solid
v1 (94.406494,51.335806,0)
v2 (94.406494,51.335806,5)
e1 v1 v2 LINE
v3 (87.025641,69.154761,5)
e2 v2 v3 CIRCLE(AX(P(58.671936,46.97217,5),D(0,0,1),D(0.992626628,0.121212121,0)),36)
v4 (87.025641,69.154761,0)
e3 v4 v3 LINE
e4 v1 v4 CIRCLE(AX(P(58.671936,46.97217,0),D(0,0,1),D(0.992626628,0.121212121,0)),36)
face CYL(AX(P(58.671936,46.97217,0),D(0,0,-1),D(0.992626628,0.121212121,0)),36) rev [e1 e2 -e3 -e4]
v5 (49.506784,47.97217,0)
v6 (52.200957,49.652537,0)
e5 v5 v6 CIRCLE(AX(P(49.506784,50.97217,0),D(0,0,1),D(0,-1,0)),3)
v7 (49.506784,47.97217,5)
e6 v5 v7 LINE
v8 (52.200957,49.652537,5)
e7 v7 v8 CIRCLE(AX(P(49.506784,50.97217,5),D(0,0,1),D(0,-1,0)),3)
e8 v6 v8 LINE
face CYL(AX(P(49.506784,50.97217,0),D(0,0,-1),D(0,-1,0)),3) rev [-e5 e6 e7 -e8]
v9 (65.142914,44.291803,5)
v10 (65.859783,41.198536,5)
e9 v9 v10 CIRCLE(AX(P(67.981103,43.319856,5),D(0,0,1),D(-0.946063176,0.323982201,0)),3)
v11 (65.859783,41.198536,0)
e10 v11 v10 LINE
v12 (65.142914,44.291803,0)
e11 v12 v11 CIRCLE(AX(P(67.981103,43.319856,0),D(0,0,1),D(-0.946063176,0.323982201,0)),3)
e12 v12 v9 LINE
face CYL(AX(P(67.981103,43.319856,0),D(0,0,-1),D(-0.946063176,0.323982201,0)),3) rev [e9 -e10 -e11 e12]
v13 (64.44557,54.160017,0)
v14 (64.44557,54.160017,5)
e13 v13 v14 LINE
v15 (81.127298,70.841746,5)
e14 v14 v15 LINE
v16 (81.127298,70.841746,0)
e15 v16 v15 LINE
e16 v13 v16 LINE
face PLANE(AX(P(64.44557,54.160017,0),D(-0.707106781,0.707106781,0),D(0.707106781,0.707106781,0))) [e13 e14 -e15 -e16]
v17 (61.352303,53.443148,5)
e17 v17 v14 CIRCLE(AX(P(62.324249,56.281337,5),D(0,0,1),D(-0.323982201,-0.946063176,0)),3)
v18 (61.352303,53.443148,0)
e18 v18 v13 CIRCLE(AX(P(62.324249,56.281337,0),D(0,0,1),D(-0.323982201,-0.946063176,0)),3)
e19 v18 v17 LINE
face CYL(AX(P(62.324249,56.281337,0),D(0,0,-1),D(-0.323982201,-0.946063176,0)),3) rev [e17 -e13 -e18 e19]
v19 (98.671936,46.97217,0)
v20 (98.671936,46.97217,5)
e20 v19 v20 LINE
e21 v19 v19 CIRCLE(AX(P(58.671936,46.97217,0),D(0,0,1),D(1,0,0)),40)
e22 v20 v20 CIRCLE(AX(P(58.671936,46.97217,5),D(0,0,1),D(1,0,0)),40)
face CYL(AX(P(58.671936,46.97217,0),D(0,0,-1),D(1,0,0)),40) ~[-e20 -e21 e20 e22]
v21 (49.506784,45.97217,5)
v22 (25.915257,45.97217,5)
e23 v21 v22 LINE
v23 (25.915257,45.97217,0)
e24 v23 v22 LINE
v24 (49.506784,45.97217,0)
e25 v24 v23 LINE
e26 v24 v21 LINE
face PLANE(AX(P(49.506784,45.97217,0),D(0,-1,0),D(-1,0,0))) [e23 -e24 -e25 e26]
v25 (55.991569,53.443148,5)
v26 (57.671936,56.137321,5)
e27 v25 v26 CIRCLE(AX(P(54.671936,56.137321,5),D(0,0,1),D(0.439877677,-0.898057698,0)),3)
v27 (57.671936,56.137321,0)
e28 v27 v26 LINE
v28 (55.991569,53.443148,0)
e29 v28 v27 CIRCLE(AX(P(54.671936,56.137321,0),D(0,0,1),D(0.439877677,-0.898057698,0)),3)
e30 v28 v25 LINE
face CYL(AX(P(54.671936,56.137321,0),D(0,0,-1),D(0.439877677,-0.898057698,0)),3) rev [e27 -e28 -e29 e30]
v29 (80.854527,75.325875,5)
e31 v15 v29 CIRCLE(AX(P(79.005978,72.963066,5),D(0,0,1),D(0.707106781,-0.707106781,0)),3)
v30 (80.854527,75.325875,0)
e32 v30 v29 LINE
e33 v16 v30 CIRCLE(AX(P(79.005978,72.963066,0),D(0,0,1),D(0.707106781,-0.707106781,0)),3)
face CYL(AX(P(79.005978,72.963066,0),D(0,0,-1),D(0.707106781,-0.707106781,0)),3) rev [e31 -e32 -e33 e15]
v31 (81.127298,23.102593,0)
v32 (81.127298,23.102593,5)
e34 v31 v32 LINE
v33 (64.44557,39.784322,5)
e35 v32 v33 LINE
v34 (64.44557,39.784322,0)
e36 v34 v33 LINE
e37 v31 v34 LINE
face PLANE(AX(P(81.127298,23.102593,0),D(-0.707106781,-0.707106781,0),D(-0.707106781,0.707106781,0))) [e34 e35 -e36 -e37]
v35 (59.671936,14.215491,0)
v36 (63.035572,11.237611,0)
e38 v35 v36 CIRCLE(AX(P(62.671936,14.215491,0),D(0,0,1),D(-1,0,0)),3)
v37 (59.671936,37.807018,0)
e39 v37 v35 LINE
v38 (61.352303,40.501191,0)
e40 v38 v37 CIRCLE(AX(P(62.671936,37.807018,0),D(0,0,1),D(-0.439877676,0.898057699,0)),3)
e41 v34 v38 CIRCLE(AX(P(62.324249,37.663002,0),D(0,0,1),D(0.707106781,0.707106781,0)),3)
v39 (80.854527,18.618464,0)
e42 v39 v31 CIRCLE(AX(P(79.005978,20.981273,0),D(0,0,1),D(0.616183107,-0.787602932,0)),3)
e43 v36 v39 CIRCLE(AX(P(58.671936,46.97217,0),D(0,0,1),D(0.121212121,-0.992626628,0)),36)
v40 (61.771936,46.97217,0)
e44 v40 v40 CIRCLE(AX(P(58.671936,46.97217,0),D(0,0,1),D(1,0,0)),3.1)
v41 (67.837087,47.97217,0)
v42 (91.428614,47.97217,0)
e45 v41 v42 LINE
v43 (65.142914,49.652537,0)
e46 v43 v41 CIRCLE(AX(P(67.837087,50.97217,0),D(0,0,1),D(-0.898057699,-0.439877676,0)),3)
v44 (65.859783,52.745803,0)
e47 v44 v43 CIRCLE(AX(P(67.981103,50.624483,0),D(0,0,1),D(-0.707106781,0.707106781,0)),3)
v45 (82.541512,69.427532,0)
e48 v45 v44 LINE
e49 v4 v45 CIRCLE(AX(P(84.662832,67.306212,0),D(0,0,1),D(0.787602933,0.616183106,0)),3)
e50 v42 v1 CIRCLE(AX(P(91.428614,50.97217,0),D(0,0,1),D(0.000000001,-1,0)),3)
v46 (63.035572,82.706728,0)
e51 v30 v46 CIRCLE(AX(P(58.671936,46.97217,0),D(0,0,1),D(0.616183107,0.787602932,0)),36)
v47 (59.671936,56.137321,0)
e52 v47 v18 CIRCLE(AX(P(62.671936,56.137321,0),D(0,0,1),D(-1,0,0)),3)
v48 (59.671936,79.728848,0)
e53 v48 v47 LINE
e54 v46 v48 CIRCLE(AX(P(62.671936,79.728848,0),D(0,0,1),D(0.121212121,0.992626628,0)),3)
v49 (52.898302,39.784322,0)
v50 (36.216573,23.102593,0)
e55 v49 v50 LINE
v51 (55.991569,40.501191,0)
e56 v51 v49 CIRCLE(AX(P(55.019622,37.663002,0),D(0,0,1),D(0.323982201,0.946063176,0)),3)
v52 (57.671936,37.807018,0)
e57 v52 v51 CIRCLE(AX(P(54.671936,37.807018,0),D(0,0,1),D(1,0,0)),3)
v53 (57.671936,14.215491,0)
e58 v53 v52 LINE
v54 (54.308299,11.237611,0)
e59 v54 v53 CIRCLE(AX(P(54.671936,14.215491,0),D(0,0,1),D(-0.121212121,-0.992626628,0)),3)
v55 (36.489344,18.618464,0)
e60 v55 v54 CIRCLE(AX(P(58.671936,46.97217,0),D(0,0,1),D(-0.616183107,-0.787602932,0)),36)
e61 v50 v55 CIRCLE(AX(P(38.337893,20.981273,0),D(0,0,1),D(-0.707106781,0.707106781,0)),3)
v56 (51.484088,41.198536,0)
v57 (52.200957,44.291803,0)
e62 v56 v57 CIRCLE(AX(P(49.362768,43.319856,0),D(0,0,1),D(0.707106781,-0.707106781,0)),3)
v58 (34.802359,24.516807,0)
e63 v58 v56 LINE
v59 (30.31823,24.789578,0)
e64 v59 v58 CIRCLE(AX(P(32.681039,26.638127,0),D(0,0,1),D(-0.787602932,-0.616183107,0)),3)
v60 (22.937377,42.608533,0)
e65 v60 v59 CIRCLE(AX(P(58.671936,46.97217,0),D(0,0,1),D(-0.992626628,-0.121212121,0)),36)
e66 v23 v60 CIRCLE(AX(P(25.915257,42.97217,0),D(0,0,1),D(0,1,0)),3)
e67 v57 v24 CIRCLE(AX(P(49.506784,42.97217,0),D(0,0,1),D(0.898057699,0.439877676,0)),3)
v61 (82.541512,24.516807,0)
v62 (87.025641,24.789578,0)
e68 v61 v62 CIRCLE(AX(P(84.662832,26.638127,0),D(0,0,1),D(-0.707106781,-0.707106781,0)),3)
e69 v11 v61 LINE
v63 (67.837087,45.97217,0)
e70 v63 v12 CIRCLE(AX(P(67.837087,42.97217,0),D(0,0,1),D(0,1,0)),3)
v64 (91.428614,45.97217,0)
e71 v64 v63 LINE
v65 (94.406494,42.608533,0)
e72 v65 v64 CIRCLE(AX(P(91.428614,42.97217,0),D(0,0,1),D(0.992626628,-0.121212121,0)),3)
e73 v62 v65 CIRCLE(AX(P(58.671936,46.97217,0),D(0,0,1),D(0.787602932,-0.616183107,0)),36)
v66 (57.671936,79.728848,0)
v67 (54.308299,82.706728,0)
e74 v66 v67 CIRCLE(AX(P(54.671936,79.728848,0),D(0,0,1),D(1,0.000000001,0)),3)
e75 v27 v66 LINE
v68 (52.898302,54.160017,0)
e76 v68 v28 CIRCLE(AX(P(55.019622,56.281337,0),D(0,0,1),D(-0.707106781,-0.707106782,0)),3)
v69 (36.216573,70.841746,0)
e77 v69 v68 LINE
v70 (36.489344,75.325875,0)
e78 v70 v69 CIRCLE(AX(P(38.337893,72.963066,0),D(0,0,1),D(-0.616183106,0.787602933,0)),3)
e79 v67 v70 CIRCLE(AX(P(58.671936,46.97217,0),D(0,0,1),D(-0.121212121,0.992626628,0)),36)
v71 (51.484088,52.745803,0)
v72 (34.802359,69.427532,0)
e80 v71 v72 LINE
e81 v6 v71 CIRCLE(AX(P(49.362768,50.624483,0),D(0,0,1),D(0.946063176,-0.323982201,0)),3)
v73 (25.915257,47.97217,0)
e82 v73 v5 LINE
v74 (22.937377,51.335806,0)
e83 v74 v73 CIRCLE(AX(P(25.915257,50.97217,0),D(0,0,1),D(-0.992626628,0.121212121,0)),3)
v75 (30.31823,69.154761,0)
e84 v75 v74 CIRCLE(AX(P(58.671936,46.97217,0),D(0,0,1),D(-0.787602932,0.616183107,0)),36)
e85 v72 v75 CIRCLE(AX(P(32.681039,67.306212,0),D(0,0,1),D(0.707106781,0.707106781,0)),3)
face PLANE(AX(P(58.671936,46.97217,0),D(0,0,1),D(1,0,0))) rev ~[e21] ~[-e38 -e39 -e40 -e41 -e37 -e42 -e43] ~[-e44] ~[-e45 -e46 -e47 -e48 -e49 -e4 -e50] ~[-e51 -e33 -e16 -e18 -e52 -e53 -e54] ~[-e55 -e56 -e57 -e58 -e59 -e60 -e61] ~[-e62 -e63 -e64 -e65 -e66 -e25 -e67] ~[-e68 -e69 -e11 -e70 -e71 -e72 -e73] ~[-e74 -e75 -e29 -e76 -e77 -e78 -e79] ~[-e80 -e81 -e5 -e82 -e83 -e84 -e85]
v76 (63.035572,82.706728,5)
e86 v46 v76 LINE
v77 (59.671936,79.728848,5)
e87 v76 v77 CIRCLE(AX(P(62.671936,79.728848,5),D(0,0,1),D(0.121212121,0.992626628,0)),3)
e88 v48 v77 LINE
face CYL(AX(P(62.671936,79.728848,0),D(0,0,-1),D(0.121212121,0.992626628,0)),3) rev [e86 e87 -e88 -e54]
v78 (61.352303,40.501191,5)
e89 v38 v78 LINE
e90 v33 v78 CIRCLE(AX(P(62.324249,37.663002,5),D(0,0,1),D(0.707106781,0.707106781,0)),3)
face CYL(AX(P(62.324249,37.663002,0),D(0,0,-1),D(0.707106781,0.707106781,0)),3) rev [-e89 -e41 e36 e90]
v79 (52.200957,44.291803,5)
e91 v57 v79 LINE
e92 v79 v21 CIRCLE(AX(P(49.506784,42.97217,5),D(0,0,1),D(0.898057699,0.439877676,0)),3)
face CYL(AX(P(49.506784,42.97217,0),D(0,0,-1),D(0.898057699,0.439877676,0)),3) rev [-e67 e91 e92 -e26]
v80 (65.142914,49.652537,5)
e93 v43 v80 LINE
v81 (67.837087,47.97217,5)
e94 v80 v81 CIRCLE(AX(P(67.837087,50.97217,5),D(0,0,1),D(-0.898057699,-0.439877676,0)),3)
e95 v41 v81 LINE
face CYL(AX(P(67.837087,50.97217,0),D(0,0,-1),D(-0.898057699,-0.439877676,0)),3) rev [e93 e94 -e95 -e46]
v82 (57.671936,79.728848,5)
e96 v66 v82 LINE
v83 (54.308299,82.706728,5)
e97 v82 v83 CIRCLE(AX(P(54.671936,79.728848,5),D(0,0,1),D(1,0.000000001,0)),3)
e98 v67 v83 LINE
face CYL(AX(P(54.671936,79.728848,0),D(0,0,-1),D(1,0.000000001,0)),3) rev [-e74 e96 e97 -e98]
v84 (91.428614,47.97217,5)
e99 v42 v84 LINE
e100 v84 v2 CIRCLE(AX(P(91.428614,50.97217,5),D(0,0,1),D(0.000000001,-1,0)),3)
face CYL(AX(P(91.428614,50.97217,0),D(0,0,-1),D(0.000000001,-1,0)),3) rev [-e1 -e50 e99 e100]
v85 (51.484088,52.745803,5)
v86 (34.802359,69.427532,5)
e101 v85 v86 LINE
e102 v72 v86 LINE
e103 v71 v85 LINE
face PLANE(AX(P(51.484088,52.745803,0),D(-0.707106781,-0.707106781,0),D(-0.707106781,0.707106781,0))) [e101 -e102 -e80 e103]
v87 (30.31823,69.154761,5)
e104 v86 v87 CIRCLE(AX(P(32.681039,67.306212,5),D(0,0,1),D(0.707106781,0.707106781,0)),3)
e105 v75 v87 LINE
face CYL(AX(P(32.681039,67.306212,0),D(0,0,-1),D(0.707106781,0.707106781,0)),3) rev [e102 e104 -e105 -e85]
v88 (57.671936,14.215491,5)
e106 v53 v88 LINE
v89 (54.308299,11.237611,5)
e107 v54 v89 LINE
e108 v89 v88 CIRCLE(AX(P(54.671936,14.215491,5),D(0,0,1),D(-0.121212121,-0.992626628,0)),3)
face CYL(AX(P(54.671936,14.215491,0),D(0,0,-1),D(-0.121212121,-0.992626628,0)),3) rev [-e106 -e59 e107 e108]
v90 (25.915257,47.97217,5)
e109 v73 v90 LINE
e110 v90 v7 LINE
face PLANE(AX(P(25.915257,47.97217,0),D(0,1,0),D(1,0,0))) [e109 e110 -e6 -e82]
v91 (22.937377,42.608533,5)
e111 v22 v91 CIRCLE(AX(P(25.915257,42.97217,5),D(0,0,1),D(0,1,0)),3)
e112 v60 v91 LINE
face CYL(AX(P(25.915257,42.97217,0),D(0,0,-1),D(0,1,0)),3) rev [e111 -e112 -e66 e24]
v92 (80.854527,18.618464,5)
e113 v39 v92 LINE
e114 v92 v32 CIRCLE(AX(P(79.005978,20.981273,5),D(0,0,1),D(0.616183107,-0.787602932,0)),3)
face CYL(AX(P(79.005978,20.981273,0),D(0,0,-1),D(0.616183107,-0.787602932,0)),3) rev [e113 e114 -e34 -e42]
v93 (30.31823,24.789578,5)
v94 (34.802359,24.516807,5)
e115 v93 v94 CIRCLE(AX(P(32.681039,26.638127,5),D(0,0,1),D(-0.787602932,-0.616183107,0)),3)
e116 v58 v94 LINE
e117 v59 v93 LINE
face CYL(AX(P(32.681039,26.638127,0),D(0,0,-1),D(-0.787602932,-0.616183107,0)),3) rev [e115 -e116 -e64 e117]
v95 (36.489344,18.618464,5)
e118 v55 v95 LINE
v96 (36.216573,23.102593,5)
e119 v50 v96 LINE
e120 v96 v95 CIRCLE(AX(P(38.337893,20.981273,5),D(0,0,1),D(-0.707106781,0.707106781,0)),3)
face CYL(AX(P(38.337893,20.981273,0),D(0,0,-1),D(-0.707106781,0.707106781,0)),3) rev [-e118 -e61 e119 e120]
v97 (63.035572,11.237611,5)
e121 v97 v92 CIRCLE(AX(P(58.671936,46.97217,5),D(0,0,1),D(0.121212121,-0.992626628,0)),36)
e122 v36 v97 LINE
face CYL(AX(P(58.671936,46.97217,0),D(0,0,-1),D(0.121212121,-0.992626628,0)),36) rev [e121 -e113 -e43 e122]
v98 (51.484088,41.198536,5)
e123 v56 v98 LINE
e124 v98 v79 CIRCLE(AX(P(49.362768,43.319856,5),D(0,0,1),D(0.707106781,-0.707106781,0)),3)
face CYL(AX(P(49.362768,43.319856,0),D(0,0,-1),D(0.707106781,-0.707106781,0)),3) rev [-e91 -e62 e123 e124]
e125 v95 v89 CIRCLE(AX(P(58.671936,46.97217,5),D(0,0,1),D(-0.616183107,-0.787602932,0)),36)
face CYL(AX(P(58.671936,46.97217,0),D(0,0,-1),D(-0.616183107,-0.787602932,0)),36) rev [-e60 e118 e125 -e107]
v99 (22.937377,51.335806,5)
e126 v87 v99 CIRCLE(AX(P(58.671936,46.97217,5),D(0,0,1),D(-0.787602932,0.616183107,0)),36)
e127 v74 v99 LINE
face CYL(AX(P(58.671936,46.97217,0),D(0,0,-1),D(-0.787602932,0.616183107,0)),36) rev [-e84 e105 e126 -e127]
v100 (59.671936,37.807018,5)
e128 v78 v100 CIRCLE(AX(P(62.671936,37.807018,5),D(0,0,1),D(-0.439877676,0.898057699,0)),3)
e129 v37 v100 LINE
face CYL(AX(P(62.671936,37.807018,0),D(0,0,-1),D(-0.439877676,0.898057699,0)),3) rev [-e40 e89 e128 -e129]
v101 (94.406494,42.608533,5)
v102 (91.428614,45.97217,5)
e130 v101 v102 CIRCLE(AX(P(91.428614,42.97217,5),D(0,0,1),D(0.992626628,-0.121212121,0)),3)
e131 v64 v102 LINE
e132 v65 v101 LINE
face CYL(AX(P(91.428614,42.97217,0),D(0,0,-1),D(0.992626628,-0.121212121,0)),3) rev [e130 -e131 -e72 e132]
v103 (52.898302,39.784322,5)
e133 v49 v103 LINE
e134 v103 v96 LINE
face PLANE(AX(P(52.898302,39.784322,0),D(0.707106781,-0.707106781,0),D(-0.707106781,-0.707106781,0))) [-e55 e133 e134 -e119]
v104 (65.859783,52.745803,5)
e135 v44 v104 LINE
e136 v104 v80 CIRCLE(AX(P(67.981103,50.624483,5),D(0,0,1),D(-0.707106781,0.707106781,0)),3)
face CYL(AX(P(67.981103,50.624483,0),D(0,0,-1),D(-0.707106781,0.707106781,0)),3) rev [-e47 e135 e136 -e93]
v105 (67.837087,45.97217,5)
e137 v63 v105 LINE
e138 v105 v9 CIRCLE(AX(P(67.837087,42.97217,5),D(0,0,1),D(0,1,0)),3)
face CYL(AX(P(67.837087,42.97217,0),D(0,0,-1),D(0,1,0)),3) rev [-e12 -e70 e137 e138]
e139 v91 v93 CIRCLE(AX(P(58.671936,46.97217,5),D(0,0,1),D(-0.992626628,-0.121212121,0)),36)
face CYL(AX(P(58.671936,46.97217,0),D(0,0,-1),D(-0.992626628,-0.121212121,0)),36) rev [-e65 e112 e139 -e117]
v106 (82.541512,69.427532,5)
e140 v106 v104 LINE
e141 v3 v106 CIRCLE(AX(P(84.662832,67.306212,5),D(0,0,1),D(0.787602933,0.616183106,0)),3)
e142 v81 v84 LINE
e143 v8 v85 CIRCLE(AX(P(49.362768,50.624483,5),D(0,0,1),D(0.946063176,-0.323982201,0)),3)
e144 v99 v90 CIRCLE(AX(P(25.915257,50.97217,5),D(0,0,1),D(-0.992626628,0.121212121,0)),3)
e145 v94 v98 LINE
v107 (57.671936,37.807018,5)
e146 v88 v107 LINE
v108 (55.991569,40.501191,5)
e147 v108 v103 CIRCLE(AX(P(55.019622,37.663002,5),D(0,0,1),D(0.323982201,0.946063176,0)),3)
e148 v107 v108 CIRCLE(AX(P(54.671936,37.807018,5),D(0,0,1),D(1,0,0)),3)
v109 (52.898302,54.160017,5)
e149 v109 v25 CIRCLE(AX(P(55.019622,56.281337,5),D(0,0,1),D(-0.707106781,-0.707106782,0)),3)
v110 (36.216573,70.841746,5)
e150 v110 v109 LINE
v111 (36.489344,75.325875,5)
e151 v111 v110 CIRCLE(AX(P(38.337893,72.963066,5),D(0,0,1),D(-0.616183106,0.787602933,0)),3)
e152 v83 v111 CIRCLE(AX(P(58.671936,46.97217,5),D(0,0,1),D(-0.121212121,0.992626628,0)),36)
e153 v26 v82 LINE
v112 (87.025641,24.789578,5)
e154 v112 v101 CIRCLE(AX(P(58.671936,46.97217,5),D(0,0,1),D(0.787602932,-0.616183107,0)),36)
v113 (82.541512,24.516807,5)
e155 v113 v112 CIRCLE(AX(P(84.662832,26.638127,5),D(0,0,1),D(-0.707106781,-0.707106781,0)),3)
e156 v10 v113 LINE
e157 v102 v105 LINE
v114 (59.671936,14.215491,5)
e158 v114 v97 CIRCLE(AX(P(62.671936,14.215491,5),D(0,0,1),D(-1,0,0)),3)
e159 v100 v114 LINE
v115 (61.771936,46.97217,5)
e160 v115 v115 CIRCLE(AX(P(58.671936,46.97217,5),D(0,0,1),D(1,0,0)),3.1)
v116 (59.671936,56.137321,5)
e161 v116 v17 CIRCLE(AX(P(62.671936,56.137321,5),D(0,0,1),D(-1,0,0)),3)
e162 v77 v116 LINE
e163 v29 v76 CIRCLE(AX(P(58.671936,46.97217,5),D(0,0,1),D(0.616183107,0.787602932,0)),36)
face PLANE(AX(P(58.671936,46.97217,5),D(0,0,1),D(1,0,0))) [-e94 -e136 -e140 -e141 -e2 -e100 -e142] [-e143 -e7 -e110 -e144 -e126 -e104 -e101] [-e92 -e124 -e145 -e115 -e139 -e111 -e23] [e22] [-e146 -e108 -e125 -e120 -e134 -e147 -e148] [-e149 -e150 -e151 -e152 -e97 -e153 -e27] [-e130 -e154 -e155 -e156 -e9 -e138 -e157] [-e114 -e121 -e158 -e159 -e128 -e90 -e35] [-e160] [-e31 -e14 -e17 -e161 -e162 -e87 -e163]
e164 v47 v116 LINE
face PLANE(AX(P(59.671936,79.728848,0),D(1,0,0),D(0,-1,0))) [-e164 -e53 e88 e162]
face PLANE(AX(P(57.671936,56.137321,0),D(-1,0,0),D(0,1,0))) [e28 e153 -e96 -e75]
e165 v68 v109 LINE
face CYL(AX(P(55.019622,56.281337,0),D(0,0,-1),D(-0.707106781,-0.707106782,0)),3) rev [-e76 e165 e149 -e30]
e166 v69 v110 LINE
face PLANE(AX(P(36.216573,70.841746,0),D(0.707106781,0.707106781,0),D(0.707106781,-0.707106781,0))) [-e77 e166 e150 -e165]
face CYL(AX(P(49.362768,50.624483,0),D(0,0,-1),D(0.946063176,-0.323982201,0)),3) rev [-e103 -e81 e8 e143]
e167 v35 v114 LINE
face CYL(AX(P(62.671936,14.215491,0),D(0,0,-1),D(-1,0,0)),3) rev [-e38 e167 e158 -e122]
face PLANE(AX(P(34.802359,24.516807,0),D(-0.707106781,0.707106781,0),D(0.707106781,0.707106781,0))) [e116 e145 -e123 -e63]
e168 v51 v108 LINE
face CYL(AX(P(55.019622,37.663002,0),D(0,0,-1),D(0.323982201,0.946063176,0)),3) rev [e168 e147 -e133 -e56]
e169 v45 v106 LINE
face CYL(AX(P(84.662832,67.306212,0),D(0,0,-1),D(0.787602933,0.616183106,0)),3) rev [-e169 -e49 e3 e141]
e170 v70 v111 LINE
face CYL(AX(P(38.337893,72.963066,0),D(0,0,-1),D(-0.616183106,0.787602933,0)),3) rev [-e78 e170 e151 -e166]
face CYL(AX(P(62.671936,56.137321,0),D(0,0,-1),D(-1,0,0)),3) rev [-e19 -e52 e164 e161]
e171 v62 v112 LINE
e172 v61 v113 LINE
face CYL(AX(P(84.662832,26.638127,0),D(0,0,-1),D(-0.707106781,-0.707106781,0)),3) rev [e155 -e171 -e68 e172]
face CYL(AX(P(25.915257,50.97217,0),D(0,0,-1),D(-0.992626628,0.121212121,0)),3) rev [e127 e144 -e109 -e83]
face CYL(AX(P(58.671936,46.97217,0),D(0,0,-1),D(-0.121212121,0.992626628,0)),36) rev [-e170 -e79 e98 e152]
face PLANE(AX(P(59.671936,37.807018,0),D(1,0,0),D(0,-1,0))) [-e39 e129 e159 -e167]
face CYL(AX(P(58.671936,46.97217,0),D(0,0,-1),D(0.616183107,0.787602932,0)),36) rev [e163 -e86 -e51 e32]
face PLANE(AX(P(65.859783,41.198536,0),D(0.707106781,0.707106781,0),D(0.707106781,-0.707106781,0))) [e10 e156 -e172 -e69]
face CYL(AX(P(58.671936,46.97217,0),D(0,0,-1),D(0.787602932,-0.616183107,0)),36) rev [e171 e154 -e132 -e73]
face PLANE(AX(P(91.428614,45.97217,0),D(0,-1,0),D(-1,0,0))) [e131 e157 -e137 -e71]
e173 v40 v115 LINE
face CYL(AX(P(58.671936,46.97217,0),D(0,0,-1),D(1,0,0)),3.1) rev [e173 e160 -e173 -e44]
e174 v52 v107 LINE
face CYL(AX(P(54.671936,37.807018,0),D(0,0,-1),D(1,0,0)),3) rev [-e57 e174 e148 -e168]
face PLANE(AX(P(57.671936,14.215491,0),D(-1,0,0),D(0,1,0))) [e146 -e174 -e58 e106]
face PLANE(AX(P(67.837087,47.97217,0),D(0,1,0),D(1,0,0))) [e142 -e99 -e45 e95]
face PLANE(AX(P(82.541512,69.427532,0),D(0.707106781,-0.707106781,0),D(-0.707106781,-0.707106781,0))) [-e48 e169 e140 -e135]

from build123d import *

# Parameters (mm, degrees)
MODEL_R         = 40
MODEL_R_2       = 3.1
EXTRUDE_1_DEPTH = 5


with BuildPart() as part:
    # Model → 凸台-拉伸1 (new body)
    with BuildSketch(Plane.XY):
        with Locations((58.671935635, 46.97216953)):
            Circle(MODEL_R)
        with Locations((58.671935635, 46.97216953)):
            Circle(MODEL_R_2, mode=Mode.SUBTRACT)
        with BuildLine():
            Line((57.671935635, 56.13732092), (57.671935635, 79.728848239))
            ThreePointArc((57.671935635, 79.728848239), (56.66053953, 81.975057166), (54.308299271, 82.706728121))
            ThreePointArc((54.308299271, 82.706728121), (44.895332069, 80.231832701), (36.489343796, 75.325875096))
            ThreePointArc((36.489343796, 75.325875096), (35.343428251, 73.145220564), (36.216572772, 70.841745955))
            Line((36.216572772, 70.841745955), (52.898301717, 54.16001701))
            ThreePointArc((52.898301717, 54.16001701), (54.342318321, 53.358794002), (55.991568665, 53.443147825))
            ThreePointArc((55.991568665, 53.443147825), (57.217411925, 54.549696766), (57.671935635, 56.13732092))
        make_face(mode=Mode.SUBTRACT)
        with BuildLine():
            Line((64.445569552, 54.16001701), (81.127298497, 70.841745955))
            ThreePointArc((81.127298497, 70.841745955), (82.000443018, 73.145220564), (80.854527474, 75.325875096))
            ThreePointArc((80.854527474, 75.325875096), (72.4485392, 80.231832701), (63.035571998, 82.706728121))
            ThreePointArc((63.035571998, 82.706728121), (60.683331739, 81.975057166), (59.671935635, 79.728848239))
            Line((59.671935635, 79.728848239), (59.671935635, 56.13732092))
            ThreePointArc((59.671935635, 56.13732092), (60.126459344, 54.549696766), (61.352302605, 53.443147825))
            ThreePointArc((61.352302605, 53.443147825), (63.001552948, 53.358794002), (64.445569552, 54.16001701))
        make_face(mode=Mode.SUBTRACT)
        with BuildLine():
            Line((67.837087024, 47.97216953), (91.428614343, 47.97216953))
            ThreePointArc((91.428614343, 47.97216953), (93.67482327, 48.983565635), (94.406494225, 51.335805894))
            ThreePointArc((94.406494225, 51.335805894), (91.931598805, 60.748773096), (87.0256412, 69.154761369))
            ThreePointArc((87.0256412, 69.154761369), (84.844986668, 70.300676914), (82.54151206, 69.427532393))
            Line((82.54151206, 69.427532393), (65.859783114, 52.745803448))
            ThreePointArc((65.859783114, 52.745803448), (65.058560106, 51.301786844), (65.142913929, 49.652536502))
            ThreePointArc((65.142913929, 49.652536502), (66.24946287, 48.42669324), (67.837087024, 47.97216953))
        make_face(mode=Mode.SUBTRACT)
        with BuildLine():
            Line((65.859783114, 41.198535613), (82.54151206, 24.516806668))
            ThreePointArc((82.54151206, 24.516806668), (84.844986668, 23.643662147), (87.0256412, 24.789577691))
            ThreePointArc((87.0256412, 24.789577691), (91.931598805, 33.195565965), (94.406494225, 42.608533167))
            ThreePointArc((94.406494225, 42.608533167), (93.67482327, 44.960773426), (91.428614343, 45.97216953))
            Line((91.428614343, 45.97216953), (67.837087024, 45.97216953))
            ThreePointArc((67.837087024, 45.97216953), (66.24946287, 45.51764582), (65.142913929, 44.291802559))
            ThreePointArc((65.142913929, 44.291802559), (65.058560106, 42.642552216), (65.859783114, 41.198535613))
        make_face(mode=Mode.SUBTRACT)
        with BuildLine():
            Line((59.671935635, 37.807018141), (59.671935635, 14.215490822))
            ThreePointArc((59.671935635, 14.215490822), (60.683331739, 11.969281895), (63.035571998, 11.23761094))
            ThreePointArc((63.035571998, 11.23761094), (72.4485392, 13.71250636), (80.854527474, 18.618463965))
            ThreePointArc((80.854527474, 18.618463965), (82.000443018, 20.799118497), (81.127298497, 23.102593105))
            Line((81.127298497, 23.102593105), (64.445569552, 39.784322051))
            ThreePointArc((64.445569552, 39.784322051), (63.001552948, 40.585545059), (61.352302606, 40.501191236))
            ThreePointArc((61.352302606, 40.501191236), (60.126459344, 39.394642295), (59.671935635, 37.807018141))
        make_face(mode=Mode.SUBTRACT)
        with BuildLine():
            Line((52.898301717, 39.784322051), (36.216572772, 23.102593105))
            ThreePointArc((36.216572772, 23.102593105), (35.343428251, 20.799118497), (36.489343796, 18.618463965))
            ThreePointArc((36.489343796, 18.618463965), (44.895332069, 13.71250636), (54.308299271, 11.23761094))
            ThreePointArc((54.308299271, 11.23761094), (56.66053953, 11.969281895), (57.671935635, 14.215490822))
            Line((57.671935635, 14.215490822), (57.671935635, 37.807018141))
            ThreePointArc((57.671935635, 37.807018141), (57.217411925, 39.394642295), (55.991568664, 40.501191236))
            ThreePointArc((55.991568664, 40.501191236), (54.342318321, 40.585545059), (52.898301717, 39.784322051))
        make_face(mode=Mode.SUBTRACT)
        with BuildLine():
            Line((49.506784245, 45.97216953), (25.915256926, 45.97216953))
            ThreePointArc((25.915256926, 45.97216953), (23.669047999, 44.960773426), (22.937377044, 42.608533167))
            ThreePointArc((22.937377044, 42.608533167), (25.412272464, 33.195565965), (30.318230069, 24.789577691))
            ThreePointArc((30.318230069, 24.789577691), (32.498884601, 23.643662147), (34.80235921, 24.516806668))
            Line((34.80235921, 24.516806668), (51.484088155, 41.198535613))
            ThreePointArc((51.484088155, 41.198535613), (52.285311163, 42.642552216), (52.20095734, 44.291802559))
            ThreePointArc((52.20095734, 44.291802559), (51.0944084, 45.51764582), (49.506784245, 45.97216953))
        make_face(mode=Mode.SUBTRACT)
        with BuildLine():
            Line((51.484088155, 52.745803448), (34.80235921, 69.427532393))
            ThreePointArc((34.80235921, 69.427532393), (32.498884601, 70.300676914), (30.318230069, 69.154761369))
            ThreePointArc((30.318230069, 69.154761369), (25.412272464, 60.748773096), (22.937377044, 51.335805894))
            ThreePointArc((22.937377044, 51.335805894), (23.669047999, 48.983565635), (25.915256926, 47.97216953))
            Line((25.915256926, 47.97216953), (49.506784245, 47.97216953))
            ThreePointArc((49.506784245, 47.97216953), (51.094408399, 48.42669324), (52.20095734, 49.652536501))
            ThreePointArc((52.20095734, 49.652536501), (52.285311163, 51.301786844), (51.484088155, 52.745803448))
        make_face(mode=Mode.SUBTRACT)
    extrude(amount=EXTRUDE_1_DEPTH)


solid = part.part
